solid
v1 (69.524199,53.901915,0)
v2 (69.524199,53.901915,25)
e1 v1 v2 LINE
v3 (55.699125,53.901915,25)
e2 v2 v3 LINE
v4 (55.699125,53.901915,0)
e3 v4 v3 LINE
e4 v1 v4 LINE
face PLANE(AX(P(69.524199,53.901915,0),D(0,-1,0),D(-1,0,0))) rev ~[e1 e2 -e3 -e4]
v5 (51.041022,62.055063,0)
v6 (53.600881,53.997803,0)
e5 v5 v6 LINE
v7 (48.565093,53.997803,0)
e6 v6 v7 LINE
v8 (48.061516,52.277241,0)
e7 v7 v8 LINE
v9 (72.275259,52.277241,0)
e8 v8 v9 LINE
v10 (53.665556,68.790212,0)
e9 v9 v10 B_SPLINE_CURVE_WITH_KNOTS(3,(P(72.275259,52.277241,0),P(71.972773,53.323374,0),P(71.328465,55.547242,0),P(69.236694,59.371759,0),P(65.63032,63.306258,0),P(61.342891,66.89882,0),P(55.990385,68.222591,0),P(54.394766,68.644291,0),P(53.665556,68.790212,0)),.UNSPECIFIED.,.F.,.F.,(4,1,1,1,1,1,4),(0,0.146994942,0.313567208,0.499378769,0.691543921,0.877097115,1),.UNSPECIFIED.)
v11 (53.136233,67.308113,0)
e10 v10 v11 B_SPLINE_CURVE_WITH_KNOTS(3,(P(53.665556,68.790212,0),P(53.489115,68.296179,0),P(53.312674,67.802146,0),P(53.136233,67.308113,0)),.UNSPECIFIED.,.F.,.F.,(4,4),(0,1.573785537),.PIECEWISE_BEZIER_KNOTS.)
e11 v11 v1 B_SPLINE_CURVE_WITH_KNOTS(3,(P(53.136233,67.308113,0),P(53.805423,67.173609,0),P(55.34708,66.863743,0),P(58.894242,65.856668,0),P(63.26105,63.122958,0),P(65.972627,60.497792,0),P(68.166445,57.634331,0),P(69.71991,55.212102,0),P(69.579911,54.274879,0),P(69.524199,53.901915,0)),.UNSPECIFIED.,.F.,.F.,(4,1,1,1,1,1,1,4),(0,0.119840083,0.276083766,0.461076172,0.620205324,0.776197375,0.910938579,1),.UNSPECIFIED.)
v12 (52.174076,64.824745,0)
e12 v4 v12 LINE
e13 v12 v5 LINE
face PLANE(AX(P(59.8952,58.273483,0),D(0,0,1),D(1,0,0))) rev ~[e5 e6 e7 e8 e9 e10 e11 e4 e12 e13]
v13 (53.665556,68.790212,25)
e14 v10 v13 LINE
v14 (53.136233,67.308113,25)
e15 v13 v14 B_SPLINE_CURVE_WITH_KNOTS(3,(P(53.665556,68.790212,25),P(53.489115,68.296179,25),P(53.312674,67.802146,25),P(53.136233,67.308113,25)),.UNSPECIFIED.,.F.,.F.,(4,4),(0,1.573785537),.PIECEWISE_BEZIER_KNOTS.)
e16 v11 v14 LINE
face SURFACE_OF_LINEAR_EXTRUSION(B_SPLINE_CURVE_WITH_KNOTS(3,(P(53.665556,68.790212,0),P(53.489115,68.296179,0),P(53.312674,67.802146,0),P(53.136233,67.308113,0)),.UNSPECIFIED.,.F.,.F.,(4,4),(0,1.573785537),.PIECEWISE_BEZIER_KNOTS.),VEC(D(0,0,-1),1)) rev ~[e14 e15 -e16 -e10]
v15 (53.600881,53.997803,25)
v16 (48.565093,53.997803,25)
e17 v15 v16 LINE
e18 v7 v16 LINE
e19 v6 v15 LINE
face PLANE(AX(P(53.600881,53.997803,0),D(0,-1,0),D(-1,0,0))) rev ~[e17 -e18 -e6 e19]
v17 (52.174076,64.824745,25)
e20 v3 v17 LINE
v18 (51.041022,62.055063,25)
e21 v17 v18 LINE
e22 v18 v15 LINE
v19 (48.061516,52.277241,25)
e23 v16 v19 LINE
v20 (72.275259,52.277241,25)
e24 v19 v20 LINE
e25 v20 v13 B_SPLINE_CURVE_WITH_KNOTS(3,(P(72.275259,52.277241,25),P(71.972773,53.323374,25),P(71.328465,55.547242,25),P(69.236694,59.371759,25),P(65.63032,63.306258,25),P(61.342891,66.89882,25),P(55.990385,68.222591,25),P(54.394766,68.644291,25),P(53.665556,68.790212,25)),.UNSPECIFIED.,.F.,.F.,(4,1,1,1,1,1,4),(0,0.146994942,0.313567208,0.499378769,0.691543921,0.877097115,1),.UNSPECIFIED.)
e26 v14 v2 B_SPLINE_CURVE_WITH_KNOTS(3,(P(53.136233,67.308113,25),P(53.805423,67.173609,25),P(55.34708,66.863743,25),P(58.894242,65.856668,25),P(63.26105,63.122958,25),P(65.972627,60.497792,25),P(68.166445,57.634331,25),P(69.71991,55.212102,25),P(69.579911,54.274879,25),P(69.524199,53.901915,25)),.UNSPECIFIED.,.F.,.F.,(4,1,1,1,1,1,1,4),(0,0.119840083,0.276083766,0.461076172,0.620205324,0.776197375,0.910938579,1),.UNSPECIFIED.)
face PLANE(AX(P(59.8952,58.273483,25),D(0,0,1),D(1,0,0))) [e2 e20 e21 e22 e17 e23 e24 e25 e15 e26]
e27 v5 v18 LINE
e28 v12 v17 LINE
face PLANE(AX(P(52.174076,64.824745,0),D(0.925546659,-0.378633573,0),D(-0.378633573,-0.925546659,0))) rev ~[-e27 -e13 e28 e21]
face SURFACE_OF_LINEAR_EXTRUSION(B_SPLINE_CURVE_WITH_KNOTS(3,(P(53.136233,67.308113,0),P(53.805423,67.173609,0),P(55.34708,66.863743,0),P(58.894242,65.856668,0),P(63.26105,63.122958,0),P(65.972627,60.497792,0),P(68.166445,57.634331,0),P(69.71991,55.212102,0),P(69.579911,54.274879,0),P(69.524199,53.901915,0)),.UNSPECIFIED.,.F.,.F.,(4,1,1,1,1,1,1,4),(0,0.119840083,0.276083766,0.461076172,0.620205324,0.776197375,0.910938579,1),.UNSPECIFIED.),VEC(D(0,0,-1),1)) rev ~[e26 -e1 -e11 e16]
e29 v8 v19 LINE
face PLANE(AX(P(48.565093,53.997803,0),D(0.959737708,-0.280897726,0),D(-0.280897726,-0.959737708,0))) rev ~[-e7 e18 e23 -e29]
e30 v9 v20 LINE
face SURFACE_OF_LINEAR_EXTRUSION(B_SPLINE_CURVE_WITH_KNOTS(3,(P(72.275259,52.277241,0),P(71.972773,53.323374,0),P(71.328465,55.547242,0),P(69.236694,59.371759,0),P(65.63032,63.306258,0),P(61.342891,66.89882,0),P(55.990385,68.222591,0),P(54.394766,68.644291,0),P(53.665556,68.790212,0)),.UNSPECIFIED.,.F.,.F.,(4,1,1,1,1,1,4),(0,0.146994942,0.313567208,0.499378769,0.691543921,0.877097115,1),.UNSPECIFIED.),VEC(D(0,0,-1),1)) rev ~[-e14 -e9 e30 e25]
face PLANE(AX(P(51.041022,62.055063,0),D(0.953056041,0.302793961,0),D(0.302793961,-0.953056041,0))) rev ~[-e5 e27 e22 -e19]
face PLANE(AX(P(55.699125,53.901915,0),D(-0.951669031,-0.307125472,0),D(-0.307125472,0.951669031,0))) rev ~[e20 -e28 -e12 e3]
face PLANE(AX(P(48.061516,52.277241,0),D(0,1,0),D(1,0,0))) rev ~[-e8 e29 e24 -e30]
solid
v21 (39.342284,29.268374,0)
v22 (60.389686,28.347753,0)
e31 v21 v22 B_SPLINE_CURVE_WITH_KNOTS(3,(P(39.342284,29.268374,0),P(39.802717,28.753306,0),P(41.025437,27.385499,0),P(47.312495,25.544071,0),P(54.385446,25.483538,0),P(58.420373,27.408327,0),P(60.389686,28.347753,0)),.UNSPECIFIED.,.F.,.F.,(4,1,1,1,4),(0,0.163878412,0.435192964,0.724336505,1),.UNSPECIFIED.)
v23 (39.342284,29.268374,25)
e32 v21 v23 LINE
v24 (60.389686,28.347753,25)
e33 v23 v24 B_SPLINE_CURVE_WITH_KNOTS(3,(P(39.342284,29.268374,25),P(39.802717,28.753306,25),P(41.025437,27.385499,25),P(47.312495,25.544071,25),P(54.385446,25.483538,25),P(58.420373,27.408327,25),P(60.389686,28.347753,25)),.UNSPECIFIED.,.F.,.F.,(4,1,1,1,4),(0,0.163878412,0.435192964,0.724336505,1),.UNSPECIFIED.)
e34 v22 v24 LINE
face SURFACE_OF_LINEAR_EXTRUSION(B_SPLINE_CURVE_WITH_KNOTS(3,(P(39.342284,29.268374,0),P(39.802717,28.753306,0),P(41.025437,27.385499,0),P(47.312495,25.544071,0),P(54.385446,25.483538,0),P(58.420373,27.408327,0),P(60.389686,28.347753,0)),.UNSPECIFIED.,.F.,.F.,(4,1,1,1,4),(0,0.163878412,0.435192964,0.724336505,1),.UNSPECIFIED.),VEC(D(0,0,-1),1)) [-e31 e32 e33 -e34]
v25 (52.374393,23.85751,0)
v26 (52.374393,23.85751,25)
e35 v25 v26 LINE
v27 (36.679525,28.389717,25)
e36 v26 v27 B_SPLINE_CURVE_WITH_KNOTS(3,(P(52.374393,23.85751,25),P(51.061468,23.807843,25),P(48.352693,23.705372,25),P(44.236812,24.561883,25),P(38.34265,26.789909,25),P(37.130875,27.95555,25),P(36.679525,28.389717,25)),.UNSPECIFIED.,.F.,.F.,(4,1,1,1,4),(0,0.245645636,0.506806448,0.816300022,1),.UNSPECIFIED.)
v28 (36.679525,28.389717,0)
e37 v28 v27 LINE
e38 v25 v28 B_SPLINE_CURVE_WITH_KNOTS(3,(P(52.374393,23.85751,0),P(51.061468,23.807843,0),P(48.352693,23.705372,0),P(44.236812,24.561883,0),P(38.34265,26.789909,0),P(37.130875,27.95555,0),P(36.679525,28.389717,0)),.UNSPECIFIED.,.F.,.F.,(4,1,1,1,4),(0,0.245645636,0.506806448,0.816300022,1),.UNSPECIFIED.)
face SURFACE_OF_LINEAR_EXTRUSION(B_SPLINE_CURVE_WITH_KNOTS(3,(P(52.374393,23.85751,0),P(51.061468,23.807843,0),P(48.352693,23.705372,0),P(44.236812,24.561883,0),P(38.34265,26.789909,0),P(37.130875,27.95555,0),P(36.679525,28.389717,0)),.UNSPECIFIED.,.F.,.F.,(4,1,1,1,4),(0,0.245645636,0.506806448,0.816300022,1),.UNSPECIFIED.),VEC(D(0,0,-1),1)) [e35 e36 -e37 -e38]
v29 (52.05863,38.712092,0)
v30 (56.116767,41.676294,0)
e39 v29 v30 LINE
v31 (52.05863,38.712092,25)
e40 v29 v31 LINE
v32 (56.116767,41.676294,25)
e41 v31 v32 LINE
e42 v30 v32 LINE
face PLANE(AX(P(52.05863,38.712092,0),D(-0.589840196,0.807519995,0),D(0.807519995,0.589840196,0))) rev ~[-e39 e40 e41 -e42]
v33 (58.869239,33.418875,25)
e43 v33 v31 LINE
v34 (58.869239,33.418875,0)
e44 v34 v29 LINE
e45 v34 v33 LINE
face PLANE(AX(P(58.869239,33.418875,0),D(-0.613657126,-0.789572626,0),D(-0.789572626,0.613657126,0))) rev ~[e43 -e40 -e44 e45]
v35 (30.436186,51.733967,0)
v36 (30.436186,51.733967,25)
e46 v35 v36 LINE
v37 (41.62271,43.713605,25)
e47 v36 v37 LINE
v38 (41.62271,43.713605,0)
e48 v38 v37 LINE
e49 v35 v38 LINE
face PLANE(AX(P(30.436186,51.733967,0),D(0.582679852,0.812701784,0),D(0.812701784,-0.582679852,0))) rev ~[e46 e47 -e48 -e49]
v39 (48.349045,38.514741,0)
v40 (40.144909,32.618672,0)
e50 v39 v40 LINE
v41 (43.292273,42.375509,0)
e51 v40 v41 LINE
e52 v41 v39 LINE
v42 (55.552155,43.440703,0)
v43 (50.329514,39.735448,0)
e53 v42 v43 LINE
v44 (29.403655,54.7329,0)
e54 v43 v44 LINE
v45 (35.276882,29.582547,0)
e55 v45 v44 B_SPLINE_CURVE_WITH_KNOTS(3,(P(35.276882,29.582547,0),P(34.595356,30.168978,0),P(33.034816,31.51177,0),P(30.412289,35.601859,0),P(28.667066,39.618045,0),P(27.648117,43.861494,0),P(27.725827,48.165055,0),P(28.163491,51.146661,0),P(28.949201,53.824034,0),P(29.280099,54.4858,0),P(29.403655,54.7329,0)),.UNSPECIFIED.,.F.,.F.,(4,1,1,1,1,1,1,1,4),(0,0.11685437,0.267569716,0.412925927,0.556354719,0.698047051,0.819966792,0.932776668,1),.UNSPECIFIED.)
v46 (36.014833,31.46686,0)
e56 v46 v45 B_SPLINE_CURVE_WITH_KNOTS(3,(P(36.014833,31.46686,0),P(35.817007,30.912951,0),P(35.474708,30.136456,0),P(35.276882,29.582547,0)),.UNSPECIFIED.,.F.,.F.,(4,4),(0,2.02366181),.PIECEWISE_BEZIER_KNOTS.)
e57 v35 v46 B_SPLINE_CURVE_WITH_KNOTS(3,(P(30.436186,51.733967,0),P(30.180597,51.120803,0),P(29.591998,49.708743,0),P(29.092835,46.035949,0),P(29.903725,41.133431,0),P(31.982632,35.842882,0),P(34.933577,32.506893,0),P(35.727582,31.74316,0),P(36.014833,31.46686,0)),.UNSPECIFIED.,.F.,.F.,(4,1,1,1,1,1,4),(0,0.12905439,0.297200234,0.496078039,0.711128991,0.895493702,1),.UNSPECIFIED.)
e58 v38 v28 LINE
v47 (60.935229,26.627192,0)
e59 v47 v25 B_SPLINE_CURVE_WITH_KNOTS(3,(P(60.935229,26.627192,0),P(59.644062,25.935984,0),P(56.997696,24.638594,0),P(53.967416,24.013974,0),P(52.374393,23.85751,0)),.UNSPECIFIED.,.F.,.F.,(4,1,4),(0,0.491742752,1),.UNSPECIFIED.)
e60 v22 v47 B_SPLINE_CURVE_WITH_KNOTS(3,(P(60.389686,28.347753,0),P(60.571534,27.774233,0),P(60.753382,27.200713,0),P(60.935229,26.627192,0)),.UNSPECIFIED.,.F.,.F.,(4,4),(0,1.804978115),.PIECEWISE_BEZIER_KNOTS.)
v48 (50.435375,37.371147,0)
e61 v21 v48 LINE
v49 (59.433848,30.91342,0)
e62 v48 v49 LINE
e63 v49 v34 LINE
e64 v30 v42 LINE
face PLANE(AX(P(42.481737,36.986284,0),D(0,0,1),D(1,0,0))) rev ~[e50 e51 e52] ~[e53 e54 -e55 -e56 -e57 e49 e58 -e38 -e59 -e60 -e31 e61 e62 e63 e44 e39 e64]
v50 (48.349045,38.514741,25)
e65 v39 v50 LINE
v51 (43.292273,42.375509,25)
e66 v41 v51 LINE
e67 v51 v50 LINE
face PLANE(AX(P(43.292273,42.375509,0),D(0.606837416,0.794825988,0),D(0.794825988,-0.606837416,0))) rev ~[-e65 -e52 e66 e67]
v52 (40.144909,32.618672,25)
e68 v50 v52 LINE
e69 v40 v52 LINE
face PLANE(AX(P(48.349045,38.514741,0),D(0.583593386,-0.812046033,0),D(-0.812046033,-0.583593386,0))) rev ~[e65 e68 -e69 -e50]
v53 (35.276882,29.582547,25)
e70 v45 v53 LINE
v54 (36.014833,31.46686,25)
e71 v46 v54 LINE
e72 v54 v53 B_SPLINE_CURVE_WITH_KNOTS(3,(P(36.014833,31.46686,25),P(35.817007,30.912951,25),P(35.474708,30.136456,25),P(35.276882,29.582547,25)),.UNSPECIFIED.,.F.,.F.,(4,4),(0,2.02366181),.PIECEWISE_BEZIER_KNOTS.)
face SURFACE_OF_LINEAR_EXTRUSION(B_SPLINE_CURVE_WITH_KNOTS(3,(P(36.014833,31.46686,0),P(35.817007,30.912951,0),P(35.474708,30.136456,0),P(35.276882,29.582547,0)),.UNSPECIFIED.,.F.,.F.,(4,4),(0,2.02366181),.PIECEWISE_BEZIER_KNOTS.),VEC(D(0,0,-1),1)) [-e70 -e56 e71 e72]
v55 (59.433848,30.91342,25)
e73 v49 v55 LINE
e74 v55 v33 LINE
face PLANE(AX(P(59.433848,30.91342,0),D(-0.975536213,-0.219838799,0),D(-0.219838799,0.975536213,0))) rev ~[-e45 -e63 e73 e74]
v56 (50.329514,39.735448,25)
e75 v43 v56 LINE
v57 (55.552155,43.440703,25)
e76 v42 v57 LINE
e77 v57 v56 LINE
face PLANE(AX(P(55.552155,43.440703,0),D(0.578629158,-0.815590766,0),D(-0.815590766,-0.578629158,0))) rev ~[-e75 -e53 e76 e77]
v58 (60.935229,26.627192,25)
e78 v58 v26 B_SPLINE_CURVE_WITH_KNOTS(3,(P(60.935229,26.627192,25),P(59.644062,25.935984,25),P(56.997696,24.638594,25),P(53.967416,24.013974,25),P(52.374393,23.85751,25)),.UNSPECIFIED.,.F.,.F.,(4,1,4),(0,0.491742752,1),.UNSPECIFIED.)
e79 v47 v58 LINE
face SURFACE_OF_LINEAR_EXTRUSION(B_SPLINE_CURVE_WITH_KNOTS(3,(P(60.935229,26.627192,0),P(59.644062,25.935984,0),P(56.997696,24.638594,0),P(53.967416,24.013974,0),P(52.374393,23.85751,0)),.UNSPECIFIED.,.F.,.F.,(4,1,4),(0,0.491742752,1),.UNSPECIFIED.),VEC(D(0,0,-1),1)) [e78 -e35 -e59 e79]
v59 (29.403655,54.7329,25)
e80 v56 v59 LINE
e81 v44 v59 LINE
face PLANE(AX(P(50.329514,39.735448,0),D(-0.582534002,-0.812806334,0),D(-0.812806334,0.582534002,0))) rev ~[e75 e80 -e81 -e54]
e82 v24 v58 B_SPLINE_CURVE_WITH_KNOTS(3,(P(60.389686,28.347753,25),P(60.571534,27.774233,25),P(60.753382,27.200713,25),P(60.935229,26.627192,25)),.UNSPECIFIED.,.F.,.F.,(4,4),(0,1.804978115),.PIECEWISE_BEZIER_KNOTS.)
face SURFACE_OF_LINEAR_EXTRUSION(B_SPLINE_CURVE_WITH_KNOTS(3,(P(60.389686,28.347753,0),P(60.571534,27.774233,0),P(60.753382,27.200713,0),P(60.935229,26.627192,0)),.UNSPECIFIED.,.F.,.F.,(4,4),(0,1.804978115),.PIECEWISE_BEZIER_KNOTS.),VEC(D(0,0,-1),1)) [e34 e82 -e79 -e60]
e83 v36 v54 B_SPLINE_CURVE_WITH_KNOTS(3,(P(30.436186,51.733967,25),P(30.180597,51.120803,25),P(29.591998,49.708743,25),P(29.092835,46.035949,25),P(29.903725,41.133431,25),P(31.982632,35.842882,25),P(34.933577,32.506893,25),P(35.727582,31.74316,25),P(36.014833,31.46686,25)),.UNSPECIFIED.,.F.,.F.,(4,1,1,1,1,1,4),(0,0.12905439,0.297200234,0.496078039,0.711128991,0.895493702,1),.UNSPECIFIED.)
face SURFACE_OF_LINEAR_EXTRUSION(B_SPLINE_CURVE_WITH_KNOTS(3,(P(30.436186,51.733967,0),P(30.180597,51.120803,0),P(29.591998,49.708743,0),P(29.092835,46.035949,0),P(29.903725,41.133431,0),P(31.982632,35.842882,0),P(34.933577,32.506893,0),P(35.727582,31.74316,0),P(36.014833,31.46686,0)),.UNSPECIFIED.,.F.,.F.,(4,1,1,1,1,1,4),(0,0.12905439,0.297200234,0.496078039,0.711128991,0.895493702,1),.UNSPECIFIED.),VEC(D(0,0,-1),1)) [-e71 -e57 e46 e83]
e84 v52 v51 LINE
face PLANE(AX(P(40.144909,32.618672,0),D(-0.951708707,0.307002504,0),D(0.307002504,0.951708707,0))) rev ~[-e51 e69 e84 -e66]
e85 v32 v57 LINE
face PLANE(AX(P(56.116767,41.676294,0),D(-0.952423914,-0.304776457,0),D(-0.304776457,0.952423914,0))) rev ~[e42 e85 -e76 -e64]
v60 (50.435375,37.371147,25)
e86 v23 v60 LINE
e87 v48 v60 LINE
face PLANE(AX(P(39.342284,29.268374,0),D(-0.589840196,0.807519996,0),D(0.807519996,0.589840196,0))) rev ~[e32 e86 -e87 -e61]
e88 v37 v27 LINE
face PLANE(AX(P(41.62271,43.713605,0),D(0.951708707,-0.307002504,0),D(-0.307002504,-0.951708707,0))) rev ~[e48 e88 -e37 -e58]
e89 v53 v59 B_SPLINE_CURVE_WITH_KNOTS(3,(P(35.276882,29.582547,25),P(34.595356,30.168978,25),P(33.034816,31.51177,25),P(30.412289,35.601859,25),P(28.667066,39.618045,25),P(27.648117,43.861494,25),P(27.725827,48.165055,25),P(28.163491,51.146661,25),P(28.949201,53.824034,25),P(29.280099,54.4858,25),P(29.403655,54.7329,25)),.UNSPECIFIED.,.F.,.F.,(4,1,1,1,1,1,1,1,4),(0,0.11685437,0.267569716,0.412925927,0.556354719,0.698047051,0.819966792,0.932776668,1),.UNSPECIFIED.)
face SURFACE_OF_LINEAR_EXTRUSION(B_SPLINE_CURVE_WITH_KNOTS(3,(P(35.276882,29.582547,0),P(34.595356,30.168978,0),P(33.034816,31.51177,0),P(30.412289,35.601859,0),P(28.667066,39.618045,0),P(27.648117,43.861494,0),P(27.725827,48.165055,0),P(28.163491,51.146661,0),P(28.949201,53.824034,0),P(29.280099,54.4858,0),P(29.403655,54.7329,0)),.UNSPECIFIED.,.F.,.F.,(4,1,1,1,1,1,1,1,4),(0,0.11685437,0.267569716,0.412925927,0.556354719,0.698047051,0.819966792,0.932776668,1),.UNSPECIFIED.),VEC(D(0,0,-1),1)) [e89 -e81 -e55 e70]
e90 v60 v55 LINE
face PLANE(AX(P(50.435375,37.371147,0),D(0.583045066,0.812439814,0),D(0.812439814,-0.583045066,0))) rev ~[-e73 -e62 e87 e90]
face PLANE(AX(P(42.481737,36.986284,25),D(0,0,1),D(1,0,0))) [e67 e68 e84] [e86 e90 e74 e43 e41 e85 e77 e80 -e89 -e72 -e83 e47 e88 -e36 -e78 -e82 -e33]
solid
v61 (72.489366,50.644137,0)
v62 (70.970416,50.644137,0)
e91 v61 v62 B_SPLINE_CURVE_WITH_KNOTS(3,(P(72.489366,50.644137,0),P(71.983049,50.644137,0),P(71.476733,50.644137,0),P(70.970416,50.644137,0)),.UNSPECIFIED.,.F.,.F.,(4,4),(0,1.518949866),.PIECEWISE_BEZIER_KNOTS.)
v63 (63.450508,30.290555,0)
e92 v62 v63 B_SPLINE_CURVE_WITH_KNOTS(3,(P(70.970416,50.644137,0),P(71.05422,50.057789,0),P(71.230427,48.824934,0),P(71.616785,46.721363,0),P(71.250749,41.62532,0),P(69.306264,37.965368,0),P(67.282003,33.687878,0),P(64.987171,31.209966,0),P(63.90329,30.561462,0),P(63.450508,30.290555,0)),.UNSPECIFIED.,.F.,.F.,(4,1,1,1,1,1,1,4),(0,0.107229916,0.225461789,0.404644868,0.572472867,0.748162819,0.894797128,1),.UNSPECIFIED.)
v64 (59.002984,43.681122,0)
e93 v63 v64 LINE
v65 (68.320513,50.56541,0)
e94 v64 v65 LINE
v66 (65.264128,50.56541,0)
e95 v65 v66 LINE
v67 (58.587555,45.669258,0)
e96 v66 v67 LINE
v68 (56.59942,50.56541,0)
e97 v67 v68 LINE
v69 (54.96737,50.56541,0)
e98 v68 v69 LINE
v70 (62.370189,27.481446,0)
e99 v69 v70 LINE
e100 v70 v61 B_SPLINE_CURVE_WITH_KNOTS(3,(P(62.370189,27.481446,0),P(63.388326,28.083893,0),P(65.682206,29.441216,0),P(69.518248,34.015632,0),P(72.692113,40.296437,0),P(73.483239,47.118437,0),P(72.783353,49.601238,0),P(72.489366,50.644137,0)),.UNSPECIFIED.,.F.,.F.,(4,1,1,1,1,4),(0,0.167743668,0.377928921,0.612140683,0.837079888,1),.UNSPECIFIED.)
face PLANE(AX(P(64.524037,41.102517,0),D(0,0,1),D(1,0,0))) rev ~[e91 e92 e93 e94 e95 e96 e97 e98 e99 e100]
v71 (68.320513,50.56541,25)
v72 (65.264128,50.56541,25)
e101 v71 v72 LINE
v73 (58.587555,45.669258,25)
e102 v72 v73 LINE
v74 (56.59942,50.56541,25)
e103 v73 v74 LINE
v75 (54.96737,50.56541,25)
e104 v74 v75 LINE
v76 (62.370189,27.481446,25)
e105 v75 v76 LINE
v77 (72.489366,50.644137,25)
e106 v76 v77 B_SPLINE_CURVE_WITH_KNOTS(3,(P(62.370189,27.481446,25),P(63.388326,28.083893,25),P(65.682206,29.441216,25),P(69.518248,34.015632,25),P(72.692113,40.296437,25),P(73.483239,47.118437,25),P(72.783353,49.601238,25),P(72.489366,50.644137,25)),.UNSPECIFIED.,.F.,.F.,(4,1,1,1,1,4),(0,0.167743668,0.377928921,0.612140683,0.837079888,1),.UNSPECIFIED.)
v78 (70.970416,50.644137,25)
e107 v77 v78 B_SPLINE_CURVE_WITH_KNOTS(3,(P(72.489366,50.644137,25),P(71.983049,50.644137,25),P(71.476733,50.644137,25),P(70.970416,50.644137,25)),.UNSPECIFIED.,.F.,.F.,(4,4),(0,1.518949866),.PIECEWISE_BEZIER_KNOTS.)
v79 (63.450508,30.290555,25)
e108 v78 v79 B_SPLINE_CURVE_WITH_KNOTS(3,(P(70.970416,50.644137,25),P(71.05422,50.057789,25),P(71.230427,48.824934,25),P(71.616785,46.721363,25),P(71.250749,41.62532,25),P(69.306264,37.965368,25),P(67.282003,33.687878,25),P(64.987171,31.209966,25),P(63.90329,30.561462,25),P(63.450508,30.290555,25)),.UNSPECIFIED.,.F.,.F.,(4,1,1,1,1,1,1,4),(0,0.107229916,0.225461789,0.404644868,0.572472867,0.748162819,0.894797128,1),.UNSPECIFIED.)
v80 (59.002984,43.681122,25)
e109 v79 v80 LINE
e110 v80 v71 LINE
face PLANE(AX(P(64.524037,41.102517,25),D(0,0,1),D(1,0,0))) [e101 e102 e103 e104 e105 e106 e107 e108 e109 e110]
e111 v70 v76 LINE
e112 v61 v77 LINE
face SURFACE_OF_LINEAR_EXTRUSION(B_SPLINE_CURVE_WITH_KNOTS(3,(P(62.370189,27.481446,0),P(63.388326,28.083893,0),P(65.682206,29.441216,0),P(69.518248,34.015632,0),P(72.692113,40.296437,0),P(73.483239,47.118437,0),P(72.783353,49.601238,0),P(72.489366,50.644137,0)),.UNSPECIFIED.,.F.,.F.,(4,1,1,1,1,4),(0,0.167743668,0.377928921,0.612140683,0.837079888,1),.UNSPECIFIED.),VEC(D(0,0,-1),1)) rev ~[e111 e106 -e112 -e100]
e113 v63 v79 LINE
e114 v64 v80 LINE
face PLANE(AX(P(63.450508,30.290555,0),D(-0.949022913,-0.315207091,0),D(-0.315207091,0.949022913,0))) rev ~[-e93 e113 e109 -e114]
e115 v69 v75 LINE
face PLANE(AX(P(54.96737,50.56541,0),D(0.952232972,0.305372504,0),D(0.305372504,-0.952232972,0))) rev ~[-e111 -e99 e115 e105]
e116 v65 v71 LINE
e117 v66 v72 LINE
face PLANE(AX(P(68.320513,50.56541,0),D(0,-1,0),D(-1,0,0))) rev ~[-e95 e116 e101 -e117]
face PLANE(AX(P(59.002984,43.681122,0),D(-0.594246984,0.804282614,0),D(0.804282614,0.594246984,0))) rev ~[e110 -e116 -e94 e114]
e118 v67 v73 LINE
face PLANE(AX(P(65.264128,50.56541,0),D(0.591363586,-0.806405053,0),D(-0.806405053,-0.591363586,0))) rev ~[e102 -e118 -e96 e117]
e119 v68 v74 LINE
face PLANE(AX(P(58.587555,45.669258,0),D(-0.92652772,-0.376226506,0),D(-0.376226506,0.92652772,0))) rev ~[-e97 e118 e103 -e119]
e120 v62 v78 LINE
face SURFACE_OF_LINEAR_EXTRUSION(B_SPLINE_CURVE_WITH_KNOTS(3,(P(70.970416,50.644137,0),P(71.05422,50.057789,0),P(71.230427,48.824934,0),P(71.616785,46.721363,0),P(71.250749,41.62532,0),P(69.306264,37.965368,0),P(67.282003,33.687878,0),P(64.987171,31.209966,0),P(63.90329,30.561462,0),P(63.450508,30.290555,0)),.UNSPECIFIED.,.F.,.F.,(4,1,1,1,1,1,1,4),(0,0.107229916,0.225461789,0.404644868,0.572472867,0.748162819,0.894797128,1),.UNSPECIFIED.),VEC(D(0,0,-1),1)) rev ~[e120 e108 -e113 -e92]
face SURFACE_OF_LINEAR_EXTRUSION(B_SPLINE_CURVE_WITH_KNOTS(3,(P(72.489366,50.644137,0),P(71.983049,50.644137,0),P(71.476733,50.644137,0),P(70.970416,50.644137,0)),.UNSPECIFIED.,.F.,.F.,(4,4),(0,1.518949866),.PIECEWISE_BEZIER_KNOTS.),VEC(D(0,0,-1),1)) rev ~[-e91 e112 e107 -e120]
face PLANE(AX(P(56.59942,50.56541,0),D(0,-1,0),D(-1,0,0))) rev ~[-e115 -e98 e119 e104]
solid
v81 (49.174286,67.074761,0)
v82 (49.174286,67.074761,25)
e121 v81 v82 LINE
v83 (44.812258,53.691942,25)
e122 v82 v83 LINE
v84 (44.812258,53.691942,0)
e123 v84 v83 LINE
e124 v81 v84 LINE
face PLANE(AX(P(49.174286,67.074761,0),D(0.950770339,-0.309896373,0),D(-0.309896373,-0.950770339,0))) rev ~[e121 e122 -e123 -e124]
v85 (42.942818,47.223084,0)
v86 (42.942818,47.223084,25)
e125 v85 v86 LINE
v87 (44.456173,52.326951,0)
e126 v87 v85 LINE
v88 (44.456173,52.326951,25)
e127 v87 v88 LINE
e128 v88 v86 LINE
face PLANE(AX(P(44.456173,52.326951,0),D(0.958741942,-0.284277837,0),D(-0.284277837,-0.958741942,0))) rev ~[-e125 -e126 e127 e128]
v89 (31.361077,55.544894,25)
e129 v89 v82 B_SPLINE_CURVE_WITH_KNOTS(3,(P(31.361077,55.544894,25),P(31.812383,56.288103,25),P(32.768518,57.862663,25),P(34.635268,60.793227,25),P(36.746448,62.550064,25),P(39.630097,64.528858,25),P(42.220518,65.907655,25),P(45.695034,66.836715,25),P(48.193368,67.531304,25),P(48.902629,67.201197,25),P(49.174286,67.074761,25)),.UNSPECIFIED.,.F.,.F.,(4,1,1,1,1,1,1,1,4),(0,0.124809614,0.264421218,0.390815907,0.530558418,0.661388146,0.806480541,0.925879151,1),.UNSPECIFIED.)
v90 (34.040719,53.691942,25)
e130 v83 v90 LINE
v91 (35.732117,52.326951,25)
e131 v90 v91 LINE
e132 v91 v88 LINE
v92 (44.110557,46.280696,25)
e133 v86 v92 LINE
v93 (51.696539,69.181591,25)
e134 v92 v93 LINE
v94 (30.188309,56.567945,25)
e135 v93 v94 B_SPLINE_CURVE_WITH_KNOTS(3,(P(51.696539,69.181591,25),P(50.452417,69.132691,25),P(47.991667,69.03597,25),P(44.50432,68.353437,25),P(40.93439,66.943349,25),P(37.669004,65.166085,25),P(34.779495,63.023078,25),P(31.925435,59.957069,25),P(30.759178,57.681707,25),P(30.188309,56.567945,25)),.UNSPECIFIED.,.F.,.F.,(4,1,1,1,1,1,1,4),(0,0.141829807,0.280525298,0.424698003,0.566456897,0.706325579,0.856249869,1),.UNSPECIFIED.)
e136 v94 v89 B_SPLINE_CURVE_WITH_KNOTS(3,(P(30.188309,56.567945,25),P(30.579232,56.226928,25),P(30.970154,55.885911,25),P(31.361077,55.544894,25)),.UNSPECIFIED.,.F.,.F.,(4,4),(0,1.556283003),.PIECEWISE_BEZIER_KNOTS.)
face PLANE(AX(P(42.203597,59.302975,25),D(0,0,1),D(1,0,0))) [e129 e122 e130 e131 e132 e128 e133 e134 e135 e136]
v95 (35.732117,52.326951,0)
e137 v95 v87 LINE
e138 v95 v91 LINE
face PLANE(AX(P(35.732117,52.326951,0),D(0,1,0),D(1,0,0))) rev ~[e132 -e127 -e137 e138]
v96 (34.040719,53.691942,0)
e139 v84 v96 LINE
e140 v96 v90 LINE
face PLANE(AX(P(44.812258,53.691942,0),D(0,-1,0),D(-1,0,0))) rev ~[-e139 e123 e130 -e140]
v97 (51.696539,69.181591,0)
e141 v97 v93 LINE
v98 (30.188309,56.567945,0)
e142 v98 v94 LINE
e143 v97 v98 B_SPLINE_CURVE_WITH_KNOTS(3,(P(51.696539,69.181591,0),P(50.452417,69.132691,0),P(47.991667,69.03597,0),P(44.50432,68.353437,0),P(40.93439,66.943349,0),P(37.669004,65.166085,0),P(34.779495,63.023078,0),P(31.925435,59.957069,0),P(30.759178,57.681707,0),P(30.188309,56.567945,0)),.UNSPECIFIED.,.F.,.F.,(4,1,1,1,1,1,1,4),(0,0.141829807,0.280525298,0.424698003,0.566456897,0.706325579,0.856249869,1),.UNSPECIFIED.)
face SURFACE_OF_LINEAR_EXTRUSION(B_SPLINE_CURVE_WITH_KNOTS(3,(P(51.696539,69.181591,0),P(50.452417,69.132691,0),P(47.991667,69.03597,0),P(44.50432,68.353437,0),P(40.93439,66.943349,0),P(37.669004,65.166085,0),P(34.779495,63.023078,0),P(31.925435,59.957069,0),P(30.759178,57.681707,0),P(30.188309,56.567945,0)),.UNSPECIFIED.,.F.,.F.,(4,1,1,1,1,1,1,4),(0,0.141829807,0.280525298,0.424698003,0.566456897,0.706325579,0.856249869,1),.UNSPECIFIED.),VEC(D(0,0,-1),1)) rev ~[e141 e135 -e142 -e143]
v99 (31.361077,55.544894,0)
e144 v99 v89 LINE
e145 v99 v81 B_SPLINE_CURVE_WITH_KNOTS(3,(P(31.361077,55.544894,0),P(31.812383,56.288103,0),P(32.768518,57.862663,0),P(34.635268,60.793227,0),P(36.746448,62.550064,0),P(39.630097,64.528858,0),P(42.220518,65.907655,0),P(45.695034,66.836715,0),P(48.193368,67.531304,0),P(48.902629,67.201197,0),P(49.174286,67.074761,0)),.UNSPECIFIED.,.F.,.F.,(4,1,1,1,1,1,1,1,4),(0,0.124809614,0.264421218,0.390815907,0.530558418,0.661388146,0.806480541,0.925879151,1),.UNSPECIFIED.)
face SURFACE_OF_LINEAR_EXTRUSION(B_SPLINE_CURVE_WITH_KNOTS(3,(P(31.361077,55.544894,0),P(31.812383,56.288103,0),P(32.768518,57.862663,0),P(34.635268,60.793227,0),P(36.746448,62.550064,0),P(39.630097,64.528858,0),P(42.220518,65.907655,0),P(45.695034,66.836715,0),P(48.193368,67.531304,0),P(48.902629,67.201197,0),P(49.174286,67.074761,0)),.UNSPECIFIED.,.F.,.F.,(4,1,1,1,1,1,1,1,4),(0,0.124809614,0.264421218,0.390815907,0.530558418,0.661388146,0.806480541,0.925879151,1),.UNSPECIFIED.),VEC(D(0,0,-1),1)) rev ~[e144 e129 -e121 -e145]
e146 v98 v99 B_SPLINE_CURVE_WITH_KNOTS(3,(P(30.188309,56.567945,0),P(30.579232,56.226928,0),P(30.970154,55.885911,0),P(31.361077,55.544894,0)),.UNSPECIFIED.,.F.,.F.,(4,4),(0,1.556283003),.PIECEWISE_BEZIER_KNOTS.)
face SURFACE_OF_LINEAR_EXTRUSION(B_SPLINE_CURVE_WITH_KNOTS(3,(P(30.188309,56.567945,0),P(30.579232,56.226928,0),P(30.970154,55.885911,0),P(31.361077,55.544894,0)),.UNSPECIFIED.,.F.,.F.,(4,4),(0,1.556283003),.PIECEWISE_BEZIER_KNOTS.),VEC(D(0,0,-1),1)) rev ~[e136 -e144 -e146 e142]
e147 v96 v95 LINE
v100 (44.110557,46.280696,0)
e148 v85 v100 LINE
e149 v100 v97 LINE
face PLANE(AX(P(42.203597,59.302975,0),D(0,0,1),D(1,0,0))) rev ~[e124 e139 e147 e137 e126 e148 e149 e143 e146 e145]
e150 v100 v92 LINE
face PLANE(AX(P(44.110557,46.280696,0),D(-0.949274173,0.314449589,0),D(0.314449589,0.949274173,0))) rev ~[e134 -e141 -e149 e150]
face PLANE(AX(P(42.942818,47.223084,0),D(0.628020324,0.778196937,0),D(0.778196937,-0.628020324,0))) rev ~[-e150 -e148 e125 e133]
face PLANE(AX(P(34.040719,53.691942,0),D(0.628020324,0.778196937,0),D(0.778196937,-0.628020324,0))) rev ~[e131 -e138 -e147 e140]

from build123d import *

# Parameters (mm, degrees)
F1_DEPTH = 25


with BuildPart() as f1:
    # F0 (on Top) → F1 (new body)
    with BuildSketch(Plane.XY):
        with BuildLine():
            Line((44.812258333, 53.6919422448), (34.0407192707, 53.6919422448))
            Line((34.0407192707, 53.6919422448), (35.7321165502, 52.3269511759))
            Line((35.7321165502, 52.3269511759), (44.4561727345, 52.3269511759))
            Line((44.4561727345, 52.3269511759), (42.9428182542, 47.2230836749))
            Line((42.9428182542, 47.2230836749), (44.1105565273, 46.2806957848))
            Line((44.1105565273, 46.2806957848), (51.6965389252, 69.1815912724))
            add(Edge.make_bspline(
                [(51.6965389252, 69.1815912724), (50.4524167957, 69.1326907756), (47.9916665589, 69.0359704409), (44.5043196657, 68.3534366475), (40.9343896774, 66.9433489012), (37.6690042438, 65.1660846742), (34.7794950211, 63.0230780666), (31.9254353452, 59.9570685381), (30.7591780724, 57.6817069711), (30.1883090287, 56.5679445863)],
                knots=[0, 0, 0, 0, 0.141829807, 0.280525298, 0.4246980025, 0.5664568968, 0.7063255794, 0.8562498691, 1, 1, 1, 1], degree=3))
            add(Edge.make_bspline(
                [(30.1883090287, 56.5679445863), (30.5792316794, 56.2269277871), (30.9701543301, 55.8859109879), (31.3610769808, 55.5448941886)],
                knots=[0, 0, 0, 0, 1.556283003, 1.556283003, 1.556283003, 1.556283003], degree=3))
            add(Edge.make_bspline(
                [(31.3610769808, 55.5448941886), (31.8123828744, 56.2881030808), (32.7685179804, 57.8626628703), (34.6352677549, 60.7932269306), (36.7464478269, 62.5500640142), (39.630096623, 64.5288575104), (42.2205175361, 65.9076551519), (45.6950339888, 66.8367151988), (48.1933683323, 67.5313041772), (48.9026289807, 67.2011968442), (49.1742864251, 67.0747607946)],
                knots=[0, 0, 0, 0, 0.1248096143, 0.2644212175, 0.3908159069, 0.5305584177, 0.6613881458, 0.806480541, 0.9258791506, 1, 1, 1, 1], degree=3))
            Line((49.1742864251, 67.0747607946), (44.812258333, 53.6919422448))
        make_face()
    extrude(amount=F1_DEPTH)


with BuildPart() as f1b:
    # F0 (on Top) → F1, piece 2 (new body)
    with BuildSketch(Plane.XY):
        with BuildLine():
            add(Edge.make_bspline(
                [(53.1362332404, 67.3081129789), (53.805422693, 67.1736089456), (55.3470800415, 66.8637428372), (58.8942423551, 65.8566676892), (63.2610501005, 63.122957783), (65.9726265765, 60.4977915099), (68.1664452008, 57.6343306219), (69.7199103296, 55.2121023161), (69.5799109872, 54.2748790238), (69.5241987705, 53.9019145072)],
                knots=[0, 0, 0, 0, 0.1198400828, 0.2760837661, 0.4610761717, 0.6202053237, 0.7761973745, 0.9109385792, 1, 1, 1, 1], degree=3))
            Line((69.5241987705, 53.9019145072), (55.6991249323, 53.9019145072))
            Line((55.6991249323, 53.9019145072), (52.174076438, 64.824745059))
            Line((52.174076438, 64.824745059), (51.0410219431, 62.0550625026))
            Line((51.0410219431, 62.0550625026), (53.6008812487, 53.9978034794))
            Line((53.6008812487, 53.9978034794), (48.5650934279, 53.9978034794))
            Line((48.5650934279, 53.9978034794), (48.0615161359, 52.2772409022))
            Line((48.0615161359, 52.2772409022), (72.2752586007, 52.2772409022))
            add(Edge.make_bspline(
                [(72.2752586007, 52.2772409022), (71.9727730122, 53.323374444), (71.328464913, 55.5472415212), (69.2366943604, 59.3717587308), (65.6303200693, 63.3062582454), (61.3428911528, 66.8988200534), (55.990384948, 68.2225911218), (54.3947660828, 68.6442913779), (53.6655560136, 68.7902122736)],
                knots=[0, 0, 0, 0, 0.1469949421, 0.3135672082, 0.4993787693, 0.6915439213, 0.8770971154, 1, 1, 1, 1], degree=3))
            add(Edge.make_bspline(
                [(53.6655560136, 68.7902122736), (53.4891150892, 68.2961791754), (53.3126741648, 67.8021460772), (53.1362332404, 67.3081129789)],
                knots=[0, 0, 0, 0, 1.5737855373, 1.5737855373, 1.5737855373, 1.5737855373], degree=3))
        make_face()
    extrude(amount=F1_DEPTH)


with BuildPart() as f1c:
    # F0 (on Top) → F1, piece 3 (new body)
    with BuildSketch(Plane.XY):
        with BuildLine():
            add(Edge.make_bspline(
                [(70.970416069, 50.6441369653), (71.0542201125, 50.0577893936), (71.2304266253, 48.8249340725), (71.6167848414, 46.7213634913), (71.2507489047, 41.6253196409), (69.3062637751, 37.9653684349), (67.2820029718, 33.6878776048), (64.9871707696, 31.2099657821), (63.9032899491, 30.5614621616), (63.4505078197, 30.2905552089)],
                knots=[0, 0, 0, 0, 0.1072299161, 0.2254617892, 0.404644868, 0.5724728673, 0.7481628192, 0.8947971282, 1, 1, 1, 1], degree=3))
            Line((63.4505078197, 30.2905552089), (59.0029843152, 43.6811223626))
            Line((59.0029843152, 43.6811223626), (68.3205127716, 50.5654104054))
            Line((68.3205127716, 50.5654104054), (65.2641281486, 50.5654104054))
            Line((65.2641281486, 50.5654104054), (58.5875548422, 45.6692576408))
            Line((58.5875548422, 45.6692576408), (56.599419564, 50.5654104054))
            Line((56.599419564, 50.5654104054), (54.9673698843, 50.5654104054))
            Line((54.9673698843, 50.5654104054), (62.3701885343, 27.4814460427))
            add(Edge.make_bspline(
                [(62.3701885343, 27.4814460427), (63.3883263261, 28.0838934031), (65.6822055578, 29.4412160555), (69.5182476955, 34.0156317376), (72.6921126886, 40.2964372928), (73.4832386185, 47.1184374266), (72.7833526751, 49.6012378795), (72.4893659353, 50.6441369653)],
                knots=[0, 0, 0, 0, 0.1677436685, 0.3779289212, 0.6121406827, 0.8370798882, 1, 1, 1, 1], degree=3))
            add(Edge.make_bspline(
                [(72.4893659353, 50.6441369653), (71.9830493132, 50.6441369653), (71.4767326911, 50.6441369653), (70.970416069, 50.6441369653)],
                knots=[0, 0, 0, 0, 1.5189498663, 1.5189498663, 1.5189498663, 1.5189498663], degree=3))
        make_face()
    extrude(amount=F1_DEPTH)


with BuildPart() as f1d:
    # F0 (on Top) → F1, piece 4 (new body)
    with BuildSketch(Plane.XY):
        with BuildLine():
            Line((50.3295138478, 39.7354476154), (29.4036548585, 54.7329001129))
            add(Edge.make_bspline(
                [(35.2768823504, 29.5825470239), (34.5953557089, 30.1689778429), (33.0348159571, 31.511769964), (30.4122885629, 35.6018590943), (28.6670664269, 39.6180448915), (27.648116989, 43.861493984), (27.7258271406, 48.1650546958), (28.1634910451, 51.1466606702), (28.9492012566, 53.8240337642), (29.2800994394, 54.4858003823), (29.4036548585, 54.7329001129)],
                knots=[0, 0, 0, 0, 0.1168543702, 0.267569716, 0.4129259268, 0.5563547188, 0.6980470506, 0.8199667924, 0.932776668, 1, 1, 1, 1], degree=3))
            add(Edge.make_bspline(
                [(36.0148325562, 31.4668603241), (35.8170072238, 30.9129512558), (35.4747076829, 30.1364560922), (35.2768823504, 29.5825470239)],
                knots=[0, 0, 0, 0, 2.0236618096, 2.0236618096, 2.0236618096, 2.0236618096], degree=3))
            add(Edge.make_bspline(
                [(30.4361861199, 51.7339669168), (30.1805966062, 51.1208028326), (29.5919977728, 49.7087430838), (29.0928348623, 46.0359488105), (29.9037246045, 41.1334314692), (31.9826316615, 35.8428822775), (34.9335767022, 32.5068932295), (35.7275815007, 31.7431599148), (36.0148325562, 31.4668603241)],
                knots=[0, 0, 0, 0, 0.1290543899, 0.2972002341, 0.4960780388, 0.7111289915, 0.895493702, 1, 1, 1, 1], degree=3))
            Line((30.4361861199, 51.7339669168), (41.6227099965, 43.7136054443))
            Line((41.6227099965, 43.7136054443), (36.6795249283, 28.3897165209))
            add(Edge.make_bspline(
                [(52.3743927479, 23.8575097173), (51.0614679962, 23.807842649), (48.3526931094, 23.7053715002), (44.236812335, 24.5618832512), (38.3426499213, 26.7899094326), (37.1308751204, 27.9555499732), (36.6795249283, 28.3897165209)],
                knots=[0, 0, 0, 0, 0.2456456361, 0.5068064482, 0.8163000219, 1, 1, 1, 1], degree=3))
            add(Edge.make_bspline(
                [(60.935229063, 26.6271922737), (59.6440624425, 25.9359839252), (56.997695994, 24.6385937328), (53.9674161578, 24.0139735878), (52.3743927479, 23.8575097173)],
                knots=[0, 0, 0, 0, 0.4917427521, 1, 1, 1, 1], degree=3))
            add(Edge.make_bspline(
                [(60.3896863759, 28.3477529883), (60.5715339382, 27.7742327501), (60.7533815006, 27.2007125119), (60.935229063, 26.6271922737)],
                knots=[0, 0, 0, 0, 1.8049781151, 1.8049781151, 1.8049781151, 1.8049781151], degree=3))
            add(Edge.make_bspline(
                [(39.3422837332, 29.268374226), (39.8027171176, 28.7533059602), (41.0254368569, 27.3854986791), (47.3124949282, 25.5440707407), (54.385446473, 25.4835376413), (58.4203731205, 27.4083272924), (60.3896863759, 28.3477529883)],
                knots=[0, 0, 0, 0, 0.1638784122, 0.4351929644, 0.724336505, 1, 1, 1, 1], degree=3))
            Line((39.3422837332, 29.268374226), (50.4353754222, 37.371147424))
            Line((50.4353754222, 37.371147424), (59.4338476658, 30.9134200215))
            Line((59.4338476658, 30.9134200215), (58.8692389429, 33.4188751876))
            Line((58.8692389429, 33.4188751876), (52.0586296916, 38.7120917439))
            Line((52.0586296916, 38.7120917439), (56.1167672276, 41.6762940586))
            Line((56.1167672276, 41.6762940586), (55.5521547794, 43.4407033026))
            Line((55.5521547794, 43.4407033026), (50.3295138478, 39.7354476154))
        make_face()
        Polygon((48.349045217, 38.5147407651), (40.1449091733, 32.6186716557), (43.292272836, 42.3755086958), align=None, mode=Mode.SUBTRACT)
    extrude(amount=F1_DEPTH)


solid = Compound([f1.part, f1b.part, f1c.part, f1d.part])
